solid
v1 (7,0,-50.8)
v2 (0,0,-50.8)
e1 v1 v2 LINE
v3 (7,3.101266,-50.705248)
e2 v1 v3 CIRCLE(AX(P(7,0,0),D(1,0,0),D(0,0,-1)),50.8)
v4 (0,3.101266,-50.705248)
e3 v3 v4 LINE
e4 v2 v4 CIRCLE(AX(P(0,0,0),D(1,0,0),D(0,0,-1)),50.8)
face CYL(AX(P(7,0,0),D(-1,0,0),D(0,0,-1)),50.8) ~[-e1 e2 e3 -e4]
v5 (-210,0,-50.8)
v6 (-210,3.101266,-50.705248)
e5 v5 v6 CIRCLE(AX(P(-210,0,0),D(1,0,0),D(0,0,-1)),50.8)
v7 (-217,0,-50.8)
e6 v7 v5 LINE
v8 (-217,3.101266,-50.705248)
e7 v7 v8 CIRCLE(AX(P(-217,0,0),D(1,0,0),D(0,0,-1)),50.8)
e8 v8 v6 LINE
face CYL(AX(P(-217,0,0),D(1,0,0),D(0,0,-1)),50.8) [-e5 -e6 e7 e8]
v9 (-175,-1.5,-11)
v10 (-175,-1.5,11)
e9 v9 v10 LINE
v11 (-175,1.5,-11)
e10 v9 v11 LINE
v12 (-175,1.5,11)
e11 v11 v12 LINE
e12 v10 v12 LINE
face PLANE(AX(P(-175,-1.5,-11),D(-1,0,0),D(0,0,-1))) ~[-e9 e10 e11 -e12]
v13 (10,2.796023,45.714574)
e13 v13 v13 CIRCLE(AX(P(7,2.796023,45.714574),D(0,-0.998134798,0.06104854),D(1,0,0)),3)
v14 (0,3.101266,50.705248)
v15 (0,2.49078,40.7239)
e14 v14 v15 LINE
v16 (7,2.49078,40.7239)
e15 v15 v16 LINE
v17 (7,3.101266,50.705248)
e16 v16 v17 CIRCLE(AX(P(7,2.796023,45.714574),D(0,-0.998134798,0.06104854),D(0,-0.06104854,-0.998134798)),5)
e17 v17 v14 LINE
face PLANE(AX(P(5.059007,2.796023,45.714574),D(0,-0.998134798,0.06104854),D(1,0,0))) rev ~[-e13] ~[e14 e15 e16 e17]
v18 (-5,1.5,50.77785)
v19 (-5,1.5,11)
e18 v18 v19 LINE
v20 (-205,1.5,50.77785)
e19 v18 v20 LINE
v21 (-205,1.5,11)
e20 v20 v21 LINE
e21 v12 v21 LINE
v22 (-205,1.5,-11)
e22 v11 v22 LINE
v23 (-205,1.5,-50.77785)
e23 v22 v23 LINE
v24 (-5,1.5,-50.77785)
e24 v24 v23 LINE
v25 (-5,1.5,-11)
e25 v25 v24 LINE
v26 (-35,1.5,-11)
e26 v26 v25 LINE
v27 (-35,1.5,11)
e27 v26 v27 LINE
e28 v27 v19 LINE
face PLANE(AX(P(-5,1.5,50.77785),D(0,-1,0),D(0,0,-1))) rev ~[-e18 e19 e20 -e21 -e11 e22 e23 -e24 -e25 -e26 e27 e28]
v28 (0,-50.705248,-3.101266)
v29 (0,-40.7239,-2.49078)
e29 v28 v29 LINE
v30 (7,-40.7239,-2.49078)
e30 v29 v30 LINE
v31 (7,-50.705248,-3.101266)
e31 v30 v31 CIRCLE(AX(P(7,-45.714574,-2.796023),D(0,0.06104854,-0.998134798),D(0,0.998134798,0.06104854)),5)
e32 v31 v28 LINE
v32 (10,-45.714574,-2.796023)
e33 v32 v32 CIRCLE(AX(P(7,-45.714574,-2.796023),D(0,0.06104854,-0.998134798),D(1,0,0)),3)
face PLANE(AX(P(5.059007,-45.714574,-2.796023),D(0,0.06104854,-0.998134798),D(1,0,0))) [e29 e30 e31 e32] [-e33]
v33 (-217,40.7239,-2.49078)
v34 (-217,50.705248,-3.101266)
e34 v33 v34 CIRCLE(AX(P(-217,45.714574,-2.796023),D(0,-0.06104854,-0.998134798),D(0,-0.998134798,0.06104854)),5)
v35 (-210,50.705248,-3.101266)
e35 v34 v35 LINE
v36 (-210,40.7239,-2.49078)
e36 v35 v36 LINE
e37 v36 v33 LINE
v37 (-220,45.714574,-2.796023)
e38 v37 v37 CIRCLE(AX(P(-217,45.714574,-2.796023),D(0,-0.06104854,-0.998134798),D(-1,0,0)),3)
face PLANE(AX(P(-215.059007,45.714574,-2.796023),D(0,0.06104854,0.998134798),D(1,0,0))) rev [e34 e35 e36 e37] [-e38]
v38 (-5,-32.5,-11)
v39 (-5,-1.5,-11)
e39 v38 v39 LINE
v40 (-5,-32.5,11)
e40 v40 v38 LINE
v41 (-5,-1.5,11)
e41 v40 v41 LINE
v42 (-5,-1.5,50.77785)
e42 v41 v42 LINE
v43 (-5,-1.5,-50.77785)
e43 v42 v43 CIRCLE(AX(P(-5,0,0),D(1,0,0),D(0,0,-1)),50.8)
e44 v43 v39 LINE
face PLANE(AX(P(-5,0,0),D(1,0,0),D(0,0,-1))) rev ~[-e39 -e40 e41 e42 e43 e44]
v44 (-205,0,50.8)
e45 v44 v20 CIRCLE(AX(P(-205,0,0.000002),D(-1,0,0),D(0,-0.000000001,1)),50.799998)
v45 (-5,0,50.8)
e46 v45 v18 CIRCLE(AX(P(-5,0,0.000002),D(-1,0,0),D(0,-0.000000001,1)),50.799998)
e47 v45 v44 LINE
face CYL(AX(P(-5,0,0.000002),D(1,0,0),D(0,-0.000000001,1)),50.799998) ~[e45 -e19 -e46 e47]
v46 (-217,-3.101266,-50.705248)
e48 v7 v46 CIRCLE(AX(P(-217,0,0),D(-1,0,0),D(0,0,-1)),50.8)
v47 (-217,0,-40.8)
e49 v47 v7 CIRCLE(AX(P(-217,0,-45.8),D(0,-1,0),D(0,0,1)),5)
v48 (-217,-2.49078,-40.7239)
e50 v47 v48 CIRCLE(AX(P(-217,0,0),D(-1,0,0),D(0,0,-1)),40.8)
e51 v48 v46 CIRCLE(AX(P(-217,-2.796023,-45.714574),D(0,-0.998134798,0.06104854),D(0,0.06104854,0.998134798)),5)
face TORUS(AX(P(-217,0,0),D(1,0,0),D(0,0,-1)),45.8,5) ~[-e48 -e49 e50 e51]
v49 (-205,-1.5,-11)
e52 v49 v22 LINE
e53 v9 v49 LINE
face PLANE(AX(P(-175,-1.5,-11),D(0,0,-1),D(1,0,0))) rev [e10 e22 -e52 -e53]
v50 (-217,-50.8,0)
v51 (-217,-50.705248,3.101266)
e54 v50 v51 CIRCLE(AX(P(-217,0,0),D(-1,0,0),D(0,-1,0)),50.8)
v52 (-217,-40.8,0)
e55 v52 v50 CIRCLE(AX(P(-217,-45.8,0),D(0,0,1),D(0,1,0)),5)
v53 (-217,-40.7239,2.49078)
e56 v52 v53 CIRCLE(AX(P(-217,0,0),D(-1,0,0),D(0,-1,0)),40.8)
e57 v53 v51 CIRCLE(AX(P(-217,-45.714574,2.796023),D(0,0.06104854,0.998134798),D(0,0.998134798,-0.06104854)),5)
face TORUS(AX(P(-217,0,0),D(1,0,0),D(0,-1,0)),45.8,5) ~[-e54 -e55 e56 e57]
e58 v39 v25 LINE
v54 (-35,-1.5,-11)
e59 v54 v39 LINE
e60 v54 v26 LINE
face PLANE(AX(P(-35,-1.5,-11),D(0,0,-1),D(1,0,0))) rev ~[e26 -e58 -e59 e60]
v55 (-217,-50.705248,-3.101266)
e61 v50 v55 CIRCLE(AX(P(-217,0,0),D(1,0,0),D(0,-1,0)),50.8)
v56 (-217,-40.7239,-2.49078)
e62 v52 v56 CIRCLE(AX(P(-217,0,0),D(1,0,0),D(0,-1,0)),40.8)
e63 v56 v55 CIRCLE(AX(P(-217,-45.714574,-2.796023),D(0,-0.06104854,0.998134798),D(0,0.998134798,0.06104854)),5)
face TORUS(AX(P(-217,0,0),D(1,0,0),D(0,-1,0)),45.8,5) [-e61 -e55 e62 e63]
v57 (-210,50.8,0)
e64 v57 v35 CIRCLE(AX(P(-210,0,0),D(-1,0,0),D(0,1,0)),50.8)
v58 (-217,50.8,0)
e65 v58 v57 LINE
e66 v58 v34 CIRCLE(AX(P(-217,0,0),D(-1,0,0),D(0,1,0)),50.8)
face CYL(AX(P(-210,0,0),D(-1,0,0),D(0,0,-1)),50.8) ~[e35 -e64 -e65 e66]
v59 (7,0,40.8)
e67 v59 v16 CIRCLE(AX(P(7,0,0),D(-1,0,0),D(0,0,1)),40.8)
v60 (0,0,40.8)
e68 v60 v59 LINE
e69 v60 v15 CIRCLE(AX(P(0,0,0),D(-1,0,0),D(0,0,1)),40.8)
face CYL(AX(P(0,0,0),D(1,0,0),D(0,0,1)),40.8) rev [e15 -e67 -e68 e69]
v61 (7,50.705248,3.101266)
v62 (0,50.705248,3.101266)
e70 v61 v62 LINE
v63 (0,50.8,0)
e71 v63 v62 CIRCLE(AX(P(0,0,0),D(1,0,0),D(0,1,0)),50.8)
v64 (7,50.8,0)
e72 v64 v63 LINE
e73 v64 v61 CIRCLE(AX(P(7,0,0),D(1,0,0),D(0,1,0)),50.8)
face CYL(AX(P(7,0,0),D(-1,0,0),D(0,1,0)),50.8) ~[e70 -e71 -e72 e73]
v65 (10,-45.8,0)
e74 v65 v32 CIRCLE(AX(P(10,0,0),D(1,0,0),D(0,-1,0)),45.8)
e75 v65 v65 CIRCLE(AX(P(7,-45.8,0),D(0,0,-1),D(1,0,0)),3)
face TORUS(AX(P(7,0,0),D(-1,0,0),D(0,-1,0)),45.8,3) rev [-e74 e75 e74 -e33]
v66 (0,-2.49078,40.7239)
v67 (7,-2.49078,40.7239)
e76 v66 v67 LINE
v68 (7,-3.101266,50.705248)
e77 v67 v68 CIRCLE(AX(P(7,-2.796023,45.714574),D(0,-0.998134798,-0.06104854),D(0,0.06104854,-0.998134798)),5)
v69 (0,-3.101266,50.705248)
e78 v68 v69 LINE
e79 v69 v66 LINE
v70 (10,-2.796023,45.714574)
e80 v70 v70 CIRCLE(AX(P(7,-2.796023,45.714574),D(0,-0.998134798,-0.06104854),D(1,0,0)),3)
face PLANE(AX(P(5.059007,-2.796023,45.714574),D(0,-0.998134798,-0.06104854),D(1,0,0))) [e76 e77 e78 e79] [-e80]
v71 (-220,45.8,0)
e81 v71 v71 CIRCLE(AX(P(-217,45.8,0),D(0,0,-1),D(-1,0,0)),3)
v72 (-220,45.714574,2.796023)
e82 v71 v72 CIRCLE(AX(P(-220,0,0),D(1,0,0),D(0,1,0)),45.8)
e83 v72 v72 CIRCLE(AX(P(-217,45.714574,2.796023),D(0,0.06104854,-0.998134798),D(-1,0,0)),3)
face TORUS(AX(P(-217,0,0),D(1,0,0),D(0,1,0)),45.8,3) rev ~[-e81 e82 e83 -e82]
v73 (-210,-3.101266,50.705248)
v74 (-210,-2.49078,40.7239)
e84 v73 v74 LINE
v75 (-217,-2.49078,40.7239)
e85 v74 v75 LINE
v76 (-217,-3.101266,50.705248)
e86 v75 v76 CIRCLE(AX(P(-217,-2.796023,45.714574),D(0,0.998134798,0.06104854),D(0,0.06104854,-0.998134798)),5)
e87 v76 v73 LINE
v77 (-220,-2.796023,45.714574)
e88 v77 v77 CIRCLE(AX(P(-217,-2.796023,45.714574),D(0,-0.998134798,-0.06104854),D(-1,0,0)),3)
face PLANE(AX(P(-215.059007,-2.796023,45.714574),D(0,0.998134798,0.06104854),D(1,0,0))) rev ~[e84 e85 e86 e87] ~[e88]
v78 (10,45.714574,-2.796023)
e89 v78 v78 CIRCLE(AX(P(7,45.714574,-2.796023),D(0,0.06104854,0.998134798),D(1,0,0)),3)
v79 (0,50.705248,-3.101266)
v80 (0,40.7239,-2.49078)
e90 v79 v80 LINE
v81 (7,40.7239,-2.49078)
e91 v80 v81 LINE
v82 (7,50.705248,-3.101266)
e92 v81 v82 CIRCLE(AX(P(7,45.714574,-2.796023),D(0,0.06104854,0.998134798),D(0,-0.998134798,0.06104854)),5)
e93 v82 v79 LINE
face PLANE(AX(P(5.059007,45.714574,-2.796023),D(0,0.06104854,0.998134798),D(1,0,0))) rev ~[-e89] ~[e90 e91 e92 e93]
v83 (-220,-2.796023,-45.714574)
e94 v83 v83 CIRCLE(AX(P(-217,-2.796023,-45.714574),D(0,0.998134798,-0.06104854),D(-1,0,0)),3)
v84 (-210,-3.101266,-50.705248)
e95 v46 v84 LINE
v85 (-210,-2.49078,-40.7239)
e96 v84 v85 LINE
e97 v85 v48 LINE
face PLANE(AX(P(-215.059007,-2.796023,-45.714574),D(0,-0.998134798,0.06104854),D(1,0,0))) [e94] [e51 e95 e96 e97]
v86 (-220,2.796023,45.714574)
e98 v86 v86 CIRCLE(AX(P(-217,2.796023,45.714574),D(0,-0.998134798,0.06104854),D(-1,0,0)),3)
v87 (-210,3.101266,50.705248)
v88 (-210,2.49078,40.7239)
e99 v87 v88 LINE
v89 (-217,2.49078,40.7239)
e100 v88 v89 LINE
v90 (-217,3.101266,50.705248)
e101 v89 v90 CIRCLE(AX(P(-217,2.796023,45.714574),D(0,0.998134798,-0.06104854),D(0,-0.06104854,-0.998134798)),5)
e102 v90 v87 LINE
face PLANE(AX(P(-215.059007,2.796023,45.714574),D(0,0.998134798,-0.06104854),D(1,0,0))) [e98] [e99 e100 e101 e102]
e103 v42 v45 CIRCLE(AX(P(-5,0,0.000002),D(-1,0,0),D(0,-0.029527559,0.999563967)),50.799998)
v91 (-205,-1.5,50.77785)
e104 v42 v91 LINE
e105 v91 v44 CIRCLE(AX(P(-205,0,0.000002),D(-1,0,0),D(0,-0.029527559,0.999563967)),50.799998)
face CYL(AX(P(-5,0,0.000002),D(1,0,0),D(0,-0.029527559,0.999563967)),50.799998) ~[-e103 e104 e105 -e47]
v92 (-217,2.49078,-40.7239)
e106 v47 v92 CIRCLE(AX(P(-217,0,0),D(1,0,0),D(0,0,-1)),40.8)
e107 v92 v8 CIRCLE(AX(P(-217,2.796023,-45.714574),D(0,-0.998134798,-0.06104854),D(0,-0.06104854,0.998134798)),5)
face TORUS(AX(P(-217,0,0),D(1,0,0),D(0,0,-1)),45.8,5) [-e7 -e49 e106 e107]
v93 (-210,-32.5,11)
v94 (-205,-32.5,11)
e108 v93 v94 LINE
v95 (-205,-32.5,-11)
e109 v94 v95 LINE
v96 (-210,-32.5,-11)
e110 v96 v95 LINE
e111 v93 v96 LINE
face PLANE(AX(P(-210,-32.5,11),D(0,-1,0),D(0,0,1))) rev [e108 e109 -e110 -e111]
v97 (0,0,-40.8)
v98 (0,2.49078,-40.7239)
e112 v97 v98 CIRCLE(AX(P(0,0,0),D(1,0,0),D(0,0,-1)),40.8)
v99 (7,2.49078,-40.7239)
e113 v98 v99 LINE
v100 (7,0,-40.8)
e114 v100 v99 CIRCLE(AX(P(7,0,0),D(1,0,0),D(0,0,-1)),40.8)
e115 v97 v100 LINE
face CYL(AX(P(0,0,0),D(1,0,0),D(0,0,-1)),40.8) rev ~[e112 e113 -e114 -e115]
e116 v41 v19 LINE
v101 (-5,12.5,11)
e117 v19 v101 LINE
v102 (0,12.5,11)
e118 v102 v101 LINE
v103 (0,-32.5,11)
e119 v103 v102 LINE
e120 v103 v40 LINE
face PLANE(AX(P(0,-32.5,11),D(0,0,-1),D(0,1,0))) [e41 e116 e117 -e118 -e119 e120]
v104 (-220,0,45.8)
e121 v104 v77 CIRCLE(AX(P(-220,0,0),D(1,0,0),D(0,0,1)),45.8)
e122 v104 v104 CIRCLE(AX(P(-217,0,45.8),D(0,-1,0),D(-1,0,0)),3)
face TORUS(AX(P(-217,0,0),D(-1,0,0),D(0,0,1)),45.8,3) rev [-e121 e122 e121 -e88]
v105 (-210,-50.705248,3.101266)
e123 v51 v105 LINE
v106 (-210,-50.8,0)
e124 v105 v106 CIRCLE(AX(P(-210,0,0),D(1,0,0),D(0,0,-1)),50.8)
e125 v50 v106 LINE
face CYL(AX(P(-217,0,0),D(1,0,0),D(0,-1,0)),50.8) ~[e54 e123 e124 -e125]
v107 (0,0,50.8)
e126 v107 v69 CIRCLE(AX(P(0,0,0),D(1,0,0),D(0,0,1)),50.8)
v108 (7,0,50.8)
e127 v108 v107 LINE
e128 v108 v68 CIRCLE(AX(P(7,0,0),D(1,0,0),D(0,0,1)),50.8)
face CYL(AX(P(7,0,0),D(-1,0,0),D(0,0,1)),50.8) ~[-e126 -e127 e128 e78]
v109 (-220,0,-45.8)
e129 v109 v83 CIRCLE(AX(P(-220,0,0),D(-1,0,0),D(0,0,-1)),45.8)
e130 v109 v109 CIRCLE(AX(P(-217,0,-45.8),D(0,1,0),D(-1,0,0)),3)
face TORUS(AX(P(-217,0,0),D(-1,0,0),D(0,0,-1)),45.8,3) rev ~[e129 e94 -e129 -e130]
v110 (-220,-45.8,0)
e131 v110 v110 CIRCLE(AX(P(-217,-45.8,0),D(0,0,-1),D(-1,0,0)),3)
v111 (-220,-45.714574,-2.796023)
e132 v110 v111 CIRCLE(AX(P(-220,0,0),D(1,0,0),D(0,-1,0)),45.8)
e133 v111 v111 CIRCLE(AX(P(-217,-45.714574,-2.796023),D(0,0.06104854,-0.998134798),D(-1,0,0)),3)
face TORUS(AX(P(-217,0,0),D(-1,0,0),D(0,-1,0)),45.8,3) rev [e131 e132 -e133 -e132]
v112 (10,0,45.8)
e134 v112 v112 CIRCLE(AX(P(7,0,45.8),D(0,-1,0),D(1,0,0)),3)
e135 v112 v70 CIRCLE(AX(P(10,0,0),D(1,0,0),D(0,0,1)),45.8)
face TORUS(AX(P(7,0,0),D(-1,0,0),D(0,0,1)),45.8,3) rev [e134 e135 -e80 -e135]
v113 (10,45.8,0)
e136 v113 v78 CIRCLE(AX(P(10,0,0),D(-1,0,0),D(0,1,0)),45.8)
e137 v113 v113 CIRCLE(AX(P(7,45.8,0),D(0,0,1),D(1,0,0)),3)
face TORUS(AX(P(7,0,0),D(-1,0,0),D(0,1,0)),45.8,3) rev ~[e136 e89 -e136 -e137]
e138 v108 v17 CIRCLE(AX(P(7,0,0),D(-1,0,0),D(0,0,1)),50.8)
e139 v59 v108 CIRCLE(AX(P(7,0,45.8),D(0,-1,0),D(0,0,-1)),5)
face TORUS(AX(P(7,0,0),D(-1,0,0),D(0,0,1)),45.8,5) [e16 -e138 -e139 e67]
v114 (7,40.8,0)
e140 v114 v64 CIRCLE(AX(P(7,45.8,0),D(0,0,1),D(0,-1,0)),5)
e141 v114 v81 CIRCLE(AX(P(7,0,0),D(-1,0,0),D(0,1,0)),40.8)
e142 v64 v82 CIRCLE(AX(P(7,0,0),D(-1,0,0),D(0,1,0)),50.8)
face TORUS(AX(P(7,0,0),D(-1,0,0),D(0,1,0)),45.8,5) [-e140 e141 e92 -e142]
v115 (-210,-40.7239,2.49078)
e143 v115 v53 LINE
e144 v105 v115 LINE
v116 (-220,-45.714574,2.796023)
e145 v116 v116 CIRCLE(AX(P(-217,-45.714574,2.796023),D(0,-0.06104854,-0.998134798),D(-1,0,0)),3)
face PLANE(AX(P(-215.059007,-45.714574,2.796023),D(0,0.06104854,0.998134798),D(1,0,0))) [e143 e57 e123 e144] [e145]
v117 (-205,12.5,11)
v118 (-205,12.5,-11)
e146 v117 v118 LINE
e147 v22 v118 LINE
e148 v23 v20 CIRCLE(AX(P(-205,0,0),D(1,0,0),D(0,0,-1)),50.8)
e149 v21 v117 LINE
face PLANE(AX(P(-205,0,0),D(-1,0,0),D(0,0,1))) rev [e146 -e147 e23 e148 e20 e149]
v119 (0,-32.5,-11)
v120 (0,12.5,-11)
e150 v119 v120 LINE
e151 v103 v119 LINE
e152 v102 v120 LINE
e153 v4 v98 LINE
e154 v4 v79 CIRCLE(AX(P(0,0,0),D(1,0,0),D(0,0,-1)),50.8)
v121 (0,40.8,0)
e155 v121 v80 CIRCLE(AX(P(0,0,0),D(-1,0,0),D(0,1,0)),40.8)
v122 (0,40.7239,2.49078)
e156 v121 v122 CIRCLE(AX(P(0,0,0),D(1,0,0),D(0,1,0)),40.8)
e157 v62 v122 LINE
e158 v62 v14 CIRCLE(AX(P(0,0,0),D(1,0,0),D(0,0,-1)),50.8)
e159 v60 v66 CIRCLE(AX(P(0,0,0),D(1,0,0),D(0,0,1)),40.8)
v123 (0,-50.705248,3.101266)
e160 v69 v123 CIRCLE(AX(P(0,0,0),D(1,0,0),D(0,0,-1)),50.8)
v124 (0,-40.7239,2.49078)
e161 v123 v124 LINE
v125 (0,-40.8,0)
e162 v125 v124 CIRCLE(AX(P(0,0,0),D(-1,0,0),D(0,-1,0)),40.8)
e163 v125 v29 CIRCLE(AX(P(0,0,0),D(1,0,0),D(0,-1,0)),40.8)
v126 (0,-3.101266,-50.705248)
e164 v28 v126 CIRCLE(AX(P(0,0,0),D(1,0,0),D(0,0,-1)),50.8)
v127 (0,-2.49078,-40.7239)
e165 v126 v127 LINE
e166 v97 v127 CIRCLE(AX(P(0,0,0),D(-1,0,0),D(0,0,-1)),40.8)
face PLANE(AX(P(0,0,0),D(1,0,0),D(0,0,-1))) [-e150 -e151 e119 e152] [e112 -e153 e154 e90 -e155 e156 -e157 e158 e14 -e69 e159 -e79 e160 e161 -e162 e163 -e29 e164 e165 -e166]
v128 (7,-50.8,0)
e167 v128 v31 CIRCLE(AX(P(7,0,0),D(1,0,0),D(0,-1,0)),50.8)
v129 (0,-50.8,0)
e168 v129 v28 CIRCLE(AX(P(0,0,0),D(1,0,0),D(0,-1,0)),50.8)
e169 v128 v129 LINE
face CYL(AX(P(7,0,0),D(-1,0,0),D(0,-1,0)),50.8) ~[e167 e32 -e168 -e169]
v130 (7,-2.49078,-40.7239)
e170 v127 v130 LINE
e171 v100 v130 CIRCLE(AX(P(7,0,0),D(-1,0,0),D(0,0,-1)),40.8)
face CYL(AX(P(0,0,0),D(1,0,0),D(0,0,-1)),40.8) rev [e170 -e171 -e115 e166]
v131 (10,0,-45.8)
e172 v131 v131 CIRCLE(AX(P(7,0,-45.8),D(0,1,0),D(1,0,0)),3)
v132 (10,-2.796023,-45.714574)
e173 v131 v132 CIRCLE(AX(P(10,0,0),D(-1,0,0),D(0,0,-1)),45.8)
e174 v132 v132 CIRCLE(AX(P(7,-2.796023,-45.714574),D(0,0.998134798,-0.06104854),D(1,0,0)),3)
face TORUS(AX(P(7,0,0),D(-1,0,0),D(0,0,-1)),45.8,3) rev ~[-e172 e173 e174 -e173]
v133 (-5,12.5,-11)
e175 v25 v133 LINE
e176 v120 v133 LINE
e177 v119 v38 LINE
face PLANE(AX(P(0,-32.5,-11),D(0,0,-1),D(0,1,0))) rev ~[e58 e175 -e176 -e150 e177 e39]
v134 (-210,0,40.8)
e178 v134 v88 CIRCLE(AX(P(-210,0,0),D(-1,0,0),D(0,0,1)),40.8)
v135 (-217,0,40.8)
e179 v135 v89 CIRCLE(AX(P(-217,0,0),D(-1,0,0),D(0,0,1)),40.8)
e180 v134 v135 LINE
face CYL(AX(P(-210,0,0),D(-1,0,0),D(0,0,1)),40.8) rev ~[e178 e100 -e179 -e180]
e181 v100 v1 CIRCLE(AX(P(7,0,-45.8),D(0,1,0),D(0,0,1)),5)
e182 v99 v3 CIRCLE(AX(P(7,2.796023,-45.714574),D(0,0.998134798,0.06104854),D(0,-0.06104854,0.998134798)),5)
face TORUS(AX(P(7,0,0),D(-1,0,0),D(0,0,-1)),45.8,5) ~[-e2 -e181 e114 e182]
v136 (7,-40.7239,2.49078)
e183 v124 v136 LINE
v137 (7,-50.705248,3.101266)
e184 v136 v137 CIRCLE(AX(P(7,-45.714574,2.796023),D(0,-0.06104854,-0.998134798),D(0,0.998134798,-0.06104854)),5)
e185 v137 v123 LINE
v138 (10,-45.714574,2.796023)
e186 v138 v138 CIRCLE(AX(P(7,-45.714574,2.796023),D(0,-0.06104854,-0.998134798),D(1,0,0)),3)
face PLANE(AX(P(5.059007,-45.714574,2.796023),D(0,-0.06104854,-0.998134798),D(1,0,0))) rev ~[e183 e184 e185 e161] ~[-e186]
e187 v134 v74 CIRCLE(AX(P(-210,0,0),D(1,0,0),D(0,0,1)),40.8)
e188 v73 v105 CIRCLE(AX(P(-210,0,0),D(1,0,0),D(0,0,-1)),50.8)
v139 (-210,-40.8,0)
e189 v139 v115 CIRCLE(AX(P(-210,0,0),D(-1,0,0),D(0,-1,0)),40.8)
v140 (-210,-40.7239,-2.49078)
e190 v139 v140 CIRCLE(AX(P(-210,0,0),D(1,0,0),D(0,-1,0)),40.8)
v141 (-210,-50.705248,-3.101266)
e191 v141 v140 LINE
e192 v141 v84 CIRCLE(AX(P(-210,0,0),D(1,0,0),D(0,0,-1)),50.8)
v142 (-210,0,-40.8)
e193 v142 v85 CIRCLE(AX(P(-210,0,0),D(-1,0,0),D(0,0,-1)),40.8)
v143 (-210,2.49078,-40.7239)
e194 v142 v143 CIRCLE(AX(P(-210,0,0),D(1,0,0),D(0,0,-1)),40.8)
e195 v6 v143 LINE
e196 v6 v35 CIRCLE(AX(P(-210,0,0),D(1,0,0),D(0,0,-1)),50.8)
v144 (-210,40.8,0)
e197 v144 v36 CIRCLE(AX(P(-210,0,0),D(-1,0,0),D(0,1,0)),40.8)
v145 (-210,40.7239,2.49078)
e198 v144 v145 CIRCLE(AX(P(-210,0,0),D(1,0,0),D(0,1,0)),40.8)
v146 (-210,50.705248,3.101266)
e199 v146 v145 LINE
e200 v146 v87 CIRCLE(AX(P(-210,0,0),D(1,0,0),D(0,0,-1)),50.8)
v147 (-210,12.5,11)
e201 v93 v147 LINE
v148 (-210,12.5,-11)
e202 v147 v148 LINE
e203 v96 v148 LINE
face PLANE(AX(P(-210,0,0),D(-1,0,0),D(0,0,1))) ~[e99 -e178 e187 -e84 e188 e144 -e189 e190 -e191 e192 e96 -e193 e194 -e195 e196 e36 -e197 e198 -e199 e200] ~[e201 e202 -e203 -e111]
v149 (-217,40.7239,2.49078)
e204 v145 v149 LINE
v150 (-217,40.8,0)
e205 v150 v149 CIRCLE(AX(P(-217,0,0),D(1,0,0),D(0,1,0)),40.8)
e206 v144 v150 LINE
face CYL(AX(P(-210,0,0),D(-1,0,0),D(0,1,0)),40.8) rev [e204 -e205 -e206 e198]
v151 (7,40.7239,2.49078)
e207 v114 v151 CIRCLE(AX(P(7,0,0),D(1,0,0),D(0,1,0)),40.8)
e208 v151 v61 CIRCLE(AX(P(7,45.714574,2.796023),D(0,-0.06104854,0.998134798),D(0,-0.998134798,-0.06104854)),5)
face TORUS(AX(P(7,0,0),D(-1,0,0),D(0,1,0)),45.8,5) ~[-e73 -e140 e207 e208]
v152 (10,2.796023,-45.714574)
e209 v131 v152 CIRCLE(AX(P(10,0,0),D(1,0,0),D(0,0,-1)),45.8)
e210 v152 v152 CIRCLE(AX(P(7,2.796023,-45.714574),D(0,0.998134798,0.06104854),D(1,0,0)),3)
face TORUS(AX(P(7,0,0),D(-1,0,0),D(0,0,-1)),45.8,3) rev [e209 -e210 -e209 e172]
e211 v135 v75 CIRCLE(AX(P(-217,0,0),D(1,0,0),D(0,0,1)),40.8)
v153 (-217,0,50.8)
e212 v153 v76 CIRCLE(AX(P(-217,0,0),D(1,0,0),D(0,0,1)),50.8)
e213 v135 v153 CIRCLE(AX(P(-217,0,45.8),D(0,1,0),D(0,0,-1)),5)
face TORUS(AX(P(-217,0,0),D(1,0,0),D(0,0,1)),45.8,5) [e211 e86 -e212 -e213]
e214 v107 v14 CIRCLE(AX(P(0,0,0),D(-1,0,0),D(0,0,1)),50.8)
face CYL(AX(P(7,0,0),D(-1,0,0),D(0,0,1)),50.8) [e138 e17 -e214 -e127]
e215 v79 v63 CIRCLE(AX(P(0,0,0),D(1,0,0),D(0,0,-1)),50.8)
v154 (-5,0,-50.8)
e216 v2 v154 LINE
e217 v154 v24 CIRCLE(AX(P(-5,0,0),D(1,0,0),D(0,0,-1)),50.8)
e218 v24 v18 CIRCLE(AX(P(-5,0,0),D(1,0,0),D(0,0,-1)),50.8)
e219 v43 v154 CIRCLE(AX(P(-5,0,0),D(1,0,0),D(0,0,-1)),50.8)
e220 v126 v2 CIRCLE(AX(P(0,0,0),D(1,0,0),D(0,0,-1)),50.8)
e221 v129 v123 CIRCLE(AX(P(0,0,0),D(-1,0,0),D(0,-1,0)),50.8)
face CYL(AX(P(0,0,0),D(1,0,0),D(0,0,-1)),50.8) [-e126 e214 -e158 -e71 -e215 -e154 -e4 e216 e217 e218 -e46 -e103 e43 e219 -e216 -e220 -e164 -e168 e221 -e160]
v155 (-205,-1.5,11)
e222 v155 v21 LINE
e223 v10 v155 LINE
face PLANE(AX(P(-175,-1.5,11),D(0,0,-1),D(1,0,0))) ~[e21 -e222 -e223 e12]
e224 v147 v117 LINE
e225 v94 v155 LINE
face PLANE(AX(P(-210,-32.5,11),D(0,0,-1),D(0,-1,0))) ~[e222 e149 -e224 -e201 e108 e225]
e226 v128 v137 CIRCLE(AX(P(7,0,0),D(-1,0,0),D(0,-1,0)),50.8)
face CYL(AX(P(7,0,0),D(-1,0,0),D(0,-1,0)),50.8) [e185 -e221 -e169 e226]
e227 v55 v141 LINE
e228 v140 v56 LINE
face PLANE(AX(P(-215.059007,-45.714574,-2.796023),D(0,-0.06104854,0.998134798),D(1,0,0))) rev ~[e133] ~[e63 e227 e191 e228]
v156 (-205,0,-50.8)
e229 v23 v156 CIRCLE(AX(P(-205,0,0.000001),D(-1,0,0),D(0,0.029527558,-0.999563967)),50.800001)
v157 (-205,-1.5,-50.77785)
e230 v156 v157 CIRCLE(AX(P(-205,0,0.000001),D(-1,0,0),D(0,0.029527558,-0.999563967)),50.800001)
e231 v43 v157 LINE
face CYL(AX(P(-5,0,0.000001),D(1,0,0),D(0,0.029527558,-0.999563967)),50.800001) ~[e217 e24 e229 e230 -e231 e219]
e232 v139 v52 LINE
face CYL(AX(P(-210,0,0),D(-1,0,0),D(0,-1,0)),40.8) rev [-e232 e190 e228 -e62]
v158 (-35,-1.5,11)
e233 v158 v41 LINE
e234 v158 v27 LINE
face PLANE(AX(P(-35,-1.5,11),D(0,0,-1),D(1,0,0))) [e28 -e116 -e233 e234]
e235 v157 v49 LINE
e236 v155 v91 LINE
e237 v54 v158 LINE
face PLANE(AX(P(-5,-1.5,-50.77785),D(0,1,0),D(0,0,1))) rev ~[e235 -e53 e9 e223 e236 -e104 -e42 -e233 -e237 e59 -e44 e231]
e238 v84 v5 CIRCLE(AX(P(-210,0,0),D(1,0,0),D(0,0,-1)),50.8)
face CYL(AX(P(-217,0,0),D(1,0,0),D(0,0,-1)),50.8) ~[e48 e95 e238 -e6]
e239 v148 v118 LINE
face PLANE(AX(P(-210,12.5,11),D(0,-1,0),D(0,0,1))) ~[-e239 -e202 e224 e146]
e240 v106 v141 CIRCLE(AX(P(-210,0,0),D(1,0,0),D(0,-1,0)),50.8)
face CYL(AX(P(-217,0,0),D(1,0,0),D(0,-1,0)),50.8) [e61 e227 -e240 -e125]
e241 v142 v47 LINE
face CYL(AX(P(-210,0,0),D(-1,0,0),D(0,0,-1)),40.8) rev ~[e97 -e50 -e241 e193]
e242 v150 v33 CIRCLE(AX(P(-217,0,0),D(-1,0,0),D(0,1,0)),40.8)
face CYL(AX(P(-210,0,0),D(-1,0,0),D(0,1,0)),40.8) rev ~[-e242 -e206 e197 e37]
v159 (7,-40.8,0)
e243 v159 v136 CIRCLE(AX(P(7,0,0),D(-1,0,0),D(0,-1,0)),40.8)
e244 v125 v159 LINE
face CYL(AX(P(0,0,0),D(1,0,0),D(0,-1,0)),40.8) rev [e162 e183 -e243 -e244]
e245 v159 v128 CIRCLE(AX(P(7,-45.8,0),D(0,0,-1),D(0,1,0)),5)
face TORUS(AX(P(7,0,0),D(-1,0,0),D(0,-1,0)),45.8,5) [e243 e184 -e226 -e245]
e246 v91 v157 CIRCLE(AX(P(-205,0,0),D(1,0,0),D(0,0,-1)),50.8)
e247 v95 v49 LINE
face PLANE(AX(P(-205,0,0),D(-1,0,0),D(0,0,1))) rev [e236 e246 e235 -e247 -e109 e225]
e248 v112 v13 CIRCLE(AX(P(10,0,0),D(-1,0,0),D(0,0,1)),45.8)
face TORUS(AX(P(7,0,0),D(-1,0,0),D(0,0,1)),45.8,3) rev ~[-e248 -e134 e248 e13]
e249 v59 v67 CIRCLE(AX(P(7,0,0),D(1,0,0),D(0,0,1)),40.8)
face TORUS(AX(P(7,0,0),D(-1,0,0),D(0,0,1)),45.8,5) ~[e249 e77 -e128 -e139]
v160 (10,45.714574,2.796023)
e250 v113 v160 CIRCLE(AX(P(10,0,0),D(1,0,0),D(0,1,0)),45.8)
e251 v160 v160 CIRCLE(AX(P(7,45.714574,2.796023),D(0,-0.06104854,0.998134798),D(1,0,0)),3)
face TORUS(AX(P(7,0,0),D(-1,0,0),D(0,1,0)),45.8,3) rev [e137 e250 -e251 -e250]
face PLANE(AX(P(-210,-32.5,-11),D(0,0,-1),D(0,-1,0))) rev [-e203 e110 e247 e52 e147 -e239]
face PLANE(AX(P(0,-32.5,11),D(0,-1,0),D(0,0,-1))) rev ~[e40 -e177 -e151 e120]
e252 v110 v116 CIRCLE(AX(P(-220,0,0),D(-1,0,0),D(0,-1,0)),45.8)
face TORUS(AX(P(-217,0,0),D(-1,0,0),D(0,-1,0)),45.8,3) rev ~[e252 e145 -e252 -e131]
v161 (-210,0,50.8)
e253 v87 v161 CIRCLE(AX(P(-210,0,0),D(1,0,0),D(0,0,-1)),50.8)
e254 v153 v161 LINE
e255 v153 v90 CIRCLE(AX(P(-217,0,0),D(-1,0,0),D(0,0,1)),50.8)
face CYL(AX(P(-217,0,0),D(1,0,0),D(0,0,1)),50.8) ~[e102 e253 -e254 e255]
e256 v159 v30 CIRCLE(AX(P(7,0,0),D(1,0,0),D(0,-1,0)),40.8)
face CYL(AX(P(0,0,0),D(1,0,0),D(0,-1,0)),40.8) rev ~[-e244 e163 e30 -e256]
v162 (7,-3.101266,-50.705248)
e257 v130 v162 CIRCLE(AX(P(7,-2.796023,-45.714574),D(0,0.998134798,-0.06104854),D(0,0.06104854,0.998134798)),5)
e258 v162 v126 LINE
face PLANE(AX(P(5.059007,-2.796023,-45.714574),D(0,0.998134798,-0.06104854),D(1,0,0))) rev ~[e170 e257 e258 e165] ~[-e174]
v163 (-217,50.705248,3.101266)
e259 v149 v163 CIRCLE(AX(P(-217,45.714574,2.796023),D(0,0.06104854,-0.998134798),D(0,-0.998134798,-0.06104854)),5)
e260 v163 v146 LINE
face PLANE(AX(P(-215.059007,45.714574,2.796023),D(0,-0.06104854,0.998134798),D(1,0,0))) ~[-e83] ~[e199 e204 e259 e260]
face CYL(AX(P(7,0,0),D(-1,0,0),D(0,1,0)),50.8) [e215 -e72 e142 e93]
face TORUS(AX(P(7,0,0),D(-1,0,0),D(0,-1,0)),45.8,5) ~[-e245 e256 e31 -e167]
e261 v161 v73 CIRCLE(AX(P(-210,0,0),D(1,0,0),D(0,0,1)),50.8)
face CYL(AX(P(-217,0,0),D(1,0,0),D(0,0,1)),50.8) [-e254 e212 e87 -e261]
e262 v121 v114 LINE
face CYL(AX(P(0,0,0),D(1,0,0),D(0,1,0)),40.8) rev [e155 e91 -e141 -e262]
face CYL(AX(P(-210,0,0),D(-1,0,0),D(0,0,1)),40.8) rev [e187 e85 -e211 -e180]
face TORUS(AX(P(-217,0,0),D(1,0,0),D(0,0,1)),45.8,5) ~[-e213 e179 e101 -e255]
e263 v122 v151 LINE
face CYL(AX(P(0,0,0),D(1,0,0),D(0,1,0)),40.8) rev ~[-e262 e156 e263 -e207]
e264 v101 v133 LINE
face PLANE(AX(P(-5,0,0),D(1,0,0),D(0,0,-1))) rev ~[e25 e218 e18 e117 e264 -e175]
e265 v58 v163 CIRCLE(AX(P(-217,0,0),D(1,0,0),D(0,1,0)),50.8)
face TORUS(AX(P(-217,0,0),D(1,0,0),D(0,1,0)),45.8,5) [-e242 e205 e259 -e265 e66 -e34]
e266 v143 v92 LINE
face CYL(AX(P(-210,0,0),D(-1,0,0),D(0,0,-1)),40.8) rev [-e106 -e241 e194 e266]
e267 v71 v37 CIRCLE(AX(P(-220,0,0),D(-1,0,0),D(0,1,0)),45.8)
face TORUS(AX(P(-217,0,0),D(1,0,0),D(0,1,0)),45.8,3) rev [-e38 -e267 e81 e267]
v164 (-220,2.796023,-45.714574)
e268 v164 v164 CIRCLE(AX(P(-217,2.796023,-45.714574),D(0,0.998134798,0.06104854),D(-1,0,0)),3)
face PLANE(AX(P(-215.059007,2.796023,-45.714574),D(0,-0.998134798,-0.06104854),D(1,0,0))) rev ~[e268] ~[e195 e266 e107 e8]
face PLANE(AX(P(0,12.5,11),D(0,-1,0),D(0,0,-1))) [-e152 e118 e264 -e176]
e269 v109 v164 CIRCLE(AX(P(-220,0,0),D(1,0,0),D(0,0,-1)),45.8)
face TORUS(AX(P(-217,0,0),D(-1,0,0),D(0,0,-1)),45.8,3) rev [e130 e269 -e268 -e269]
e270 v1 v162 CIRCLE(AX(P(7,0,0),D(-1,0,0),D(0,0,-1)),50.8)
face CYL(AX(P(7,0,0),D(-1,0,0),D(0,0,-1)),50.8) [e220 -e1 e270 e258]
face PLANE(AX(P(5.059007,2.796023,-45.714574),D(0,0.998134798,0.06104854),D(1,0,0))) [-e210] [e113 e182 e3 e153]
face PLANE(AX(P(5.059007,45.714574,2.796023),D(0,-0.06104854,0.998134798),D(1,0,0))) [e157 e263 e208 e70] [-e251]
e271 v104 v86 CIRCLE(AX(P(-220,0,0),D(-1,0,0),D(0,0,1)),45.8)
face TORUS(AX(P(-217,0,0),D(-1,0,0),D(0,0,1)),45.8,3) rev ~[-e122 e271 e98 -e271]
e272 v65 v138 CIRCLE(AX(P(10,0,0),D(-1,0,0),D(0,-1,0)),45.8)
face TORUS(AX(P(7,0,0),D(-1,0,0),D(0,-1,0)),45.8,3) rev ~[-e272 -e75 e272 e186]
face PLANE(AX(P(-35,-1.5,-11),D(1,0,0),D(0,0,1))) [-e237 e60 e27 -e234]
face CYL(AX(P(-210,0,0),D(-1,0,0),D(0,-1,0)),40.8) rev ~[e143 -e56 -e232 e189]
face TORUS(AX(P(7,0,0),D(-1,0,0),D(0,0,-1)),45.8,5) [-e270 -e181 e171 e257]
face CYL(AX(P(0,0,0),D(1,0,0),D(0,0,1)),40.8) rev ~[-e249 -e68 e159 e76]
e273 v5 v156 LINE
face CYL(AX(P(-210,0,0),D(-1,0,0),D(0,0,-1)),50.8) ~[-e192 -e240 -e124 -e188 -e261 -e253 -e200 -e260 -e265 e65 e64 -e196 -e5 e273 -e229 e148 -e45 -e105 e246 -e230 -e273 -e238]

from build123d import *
from build123d.topology import SkipClean

# Parameters (mm, degrees)
SKETCH1_R               = 50.8
BOSS_EXTRUDE1_DEPTH     = 5
SKETCH2_W               = 22
SKETCH2_H               = 45
CUT_EXTRUDE1_DEPTH      = 5
SKETCH3_R               = 3
REVOLVE1_ANGLE          = 7
CIRPATTERN1_COUNT       = 4
SKETCH4_W               = 22
SKETCH4_H               = 3
BOSS_EXTRUDE2_DEPTH     = 200
SKETCH5_W               = 30
SKETCH5_H               = 22
CUT_EXTRUDE2_DEPTH      = 3
MIRROR1_COPY_1_SKETCH_R = 3
MIRROR1_COPY_1_ANGLE    = 7
MIRROR1_COPY_2_SKETCH_R = 3
MIRROR1_COPY_2_ANGLE    = 7
MIRROR1_COPY_3_SKETCH_R = 3
MIRROR1_COPY_3_ANGLE    = 7


with BuildPart() as part:
    # Sketch1 → Boss-Extrude1 (new body)
    with BuildSketch(Plane(origin=(0, 0, 0), x_dir=(0, 0, -1), z_dir=(1, 0, 0))):
        Circle(SKETCH1_R)
    boss_extrude1 = extrude(amount=-BOSS_EXTRUDE1_DEPTH)

    # Sketch2 → Cut-Extrude1 (cut)
    with BuildSketch(Plane(origin=(0, 0, 0), x_dir=(0, 0, -1), z_dir=(1, 0, 0))):
        with Locations((0, -10)):
            Rectangle(SKETCH2_W, SKETCH2_H)
    cut_extrude1 = extrude(amount=-CUT_EXTRUDE1_DEPTH, mode=Mode.SUBTRACT)

    # Sketch3 → Revolve1 (revolve, symmetric)
    with SkipClean():  # the faces are left unmerged after this step: merging them gives an invalid solid
        with BuildSketch(Plane.XY) as revolve1_sk:
            with BuildLine():
                Line((0, 50.8), (0, 40.8))
                Line((0, 40.8), (7, 40.8))
                ThreePointArc((7, 40.8), (12, 45.8), (7, 50.8))
                Line((7, 50.8), (0, 50.8))
            make_face()
            with Locations((7, 45.8)):
                Circle(SKETCH3_R, mode=Mode.SUBTRACT)
        revolve1 = revolve(axis=Axis((0, 0, 0), (1, 0, 0)), revolution_arc=REVOLVE1_ANGLE / 2)
        revolve1 = revolve1 + revolve(revolve1_sk.sketch, axis=Axis((0, 0, 0), (-1, 0, 0)), revolution_arc=REVOLVE1_ANGLE / 2)

    # CirPattern1: Revolve1 ×4 about axis
    cirpattern1_axis = Axis((-5, 0, 0), (1, 0, 0))
    for i in range(1, CIRPATTERN1_COUNT):
        add(revolve1.rotate(cirpattern1_axis, i * 360 / CIRPATTERN1_COUNT))

    # Sketch4 → Boss-Extrude2 (add)
    with BuildSketch(Plane.ZY.offset(5)):
        with BuildLine():
            ThreePointArc((50.8, 0), (50.794462074, 0.75008177), (50.777849502, 1.5))
            Line((50.777849502, 1.5), (11, 1.5))
            Line((11, 1.5), (11, -1.5))
            Line((11, -1.5), (50.777849502, -1.5))
            ThreePointArc((50.777849502, -1.5), (50.794462074, -0.75008177), (50.8, 0))
        make_face()
        Rectangle(SKETCH4_W, SKETCH4_H)
        with BuildLine():
            Line((-11, 1.5), (-50.777849502, 1.5))
            ThreePointArc((-50.777849502, 1.5), (-50.8, 0), (-50.777849502, -1.5))
            Line((-50.777849502, -1.5), (-11, -1.5))
            Line((-11, -1.5), (-11, 1.5))
        make_face()
    extrude(amount=BOSS_EXTRUDE2_DEPTH)

    # Sketch5 → Cut-Extrude2 (cut)
    with BuildSketch(Plane.XZ.offset(1.5)):
        with Locations((-20, 0)):
            Rectangle(SKETCH5_W, SKETCH5_H)
    cut_extrude2 = extrude(amount=-CUT_EXTRUDE2_DEPTH, mode=Mode.SUBTRACT)

    # Mirror1: Boss-Extrude1, Cut-Extrude1, Revolve1, Cut-Extrude2 across plane
    add(boss_extrude1.mirror(Plane.ZY.offset(105)))
    add(cut_extrude1.mirror(Plane.ZY.offset(105)), mode=Mode.SUBTRACT)
    add(revolve1.mirror(Plane.ZY.offset(105)))
    add(cut_extrude2.mirror(Plane.ZY.offset(105)), mode=Mode.SUBTRACT)

    # Mirror1 copy 1 sketch → Mirror1 copy 1 (revolve, symmetric)
    with SkipClean():  # the faces are left unmerged after this step: merging them gives an invalid solid
        with BuildSketch(Plane(origin=(-210, 0, 0), x_dir=(-1, 0, 0), z_dir=(0, -1, 0))) as mirror1_copy_1_sk:
            with BuildLine():
                Line((0, -50.8), (0, -40.8))
                Line((0, -40.8), (7, -40.8))
                ThreePointArc((7, -40.8), (12, -45.8), (7, -50.8))
                Line((7, -50.8), (0, -50.8))
            make_face()
            with Locations((7, -45.8)):
                Circle(MIRROR1_COPY_1_SKETCH_R, mode=Mode.SUBTRACT)
        revolve(axis=Axis((-210, 0, 0), (1, 0, 0)), revolution_arc=MIRROR1_COPY_1_ANGLE / 2)
        revolve(mirror1_copy_1_sk.sketch, axis=Axis((-210, 0, 0), (-1, 0, 0)), revolution_arc=MIRROR1_COPY_1_ANGLE / 2)

    # Mirror1 copy 2 sketch → Mirror1 copy 2 (revolve, symmetric)
    with SkipClean():  # the faces are left unmerged after this step: merging them gives an invalid solid
        with BuildSketch(Plane(origin=(-210, 0, 0), x_dir=(-1, 0, 0), z_dir=(0, 0, -1))) as mirror1_copy_2_sk:
            with BuildLine():
                Line((0, -50.8), (0, -40.8))
                Line((0, -40.8), (7, -40.8))
                ThreePointArc((7, -40.8), (12, -45.8), (7, -50.8))
                Line((7, -50.8), (0, -50.8))
            make_face()
            with Locations((7, -45.8)):
                Circle(MIRROR1_COPY_2_SKETCH_R, mode=Mode.SUBTRACT)
        revolve(axis=Axis((-210, 0, 0), (1, 0, 0)), revolution_arc=MIRROR1_COPY_2_ANGLE / 2)
        revolve(mirror1_copy_2_sk.sketch, axis=Axis((-210, 0, 0), (-1, 0, 0)), revolution_arc=MIRROR1_COPY_2_ANGLE / 2)

    # Mirror1 copy 3 sketch → Mirror1 copy 3 (revolve, symmetric)
    with SkipClean():  # the faces are left unmerged after this step: merging them gives an invalid solid
        with BuildSketch(Plane(origin=(-210, 0, 0), x_dir=(-1, 0, 0), z_dir=(0, 1, 0))) as mirror1_copy_3_sk:
            with BuildLine():
                Line((0, -50.8), (0, -40.8))
                Line((0, -40.8), (7, -40.8))
                ThreePointArc((7, -40.8), (12, -45.8), (7, -50.8))
                Line((7, -50.8), (0, -50.8))
            make_face()
            with Locations((7, -45.8)):
                Circle(MIRROR1_COPY_3_SKETCH_R, mode=Mode.SUBTRACT)
        revolve(axis=Axis((-210, 0, 0), (1, 0, 0)), revolution_arc=MIRROR1_COPY_3_ANGLE / 2)
        revolve(mirror1_copy_3_sk.sketch, axis=Axis((-210, 0, 0), (-1, 0, 0)), revolution_arc=MIRROR1_COPY_3_ANGLE / 2)


solid = part.part
